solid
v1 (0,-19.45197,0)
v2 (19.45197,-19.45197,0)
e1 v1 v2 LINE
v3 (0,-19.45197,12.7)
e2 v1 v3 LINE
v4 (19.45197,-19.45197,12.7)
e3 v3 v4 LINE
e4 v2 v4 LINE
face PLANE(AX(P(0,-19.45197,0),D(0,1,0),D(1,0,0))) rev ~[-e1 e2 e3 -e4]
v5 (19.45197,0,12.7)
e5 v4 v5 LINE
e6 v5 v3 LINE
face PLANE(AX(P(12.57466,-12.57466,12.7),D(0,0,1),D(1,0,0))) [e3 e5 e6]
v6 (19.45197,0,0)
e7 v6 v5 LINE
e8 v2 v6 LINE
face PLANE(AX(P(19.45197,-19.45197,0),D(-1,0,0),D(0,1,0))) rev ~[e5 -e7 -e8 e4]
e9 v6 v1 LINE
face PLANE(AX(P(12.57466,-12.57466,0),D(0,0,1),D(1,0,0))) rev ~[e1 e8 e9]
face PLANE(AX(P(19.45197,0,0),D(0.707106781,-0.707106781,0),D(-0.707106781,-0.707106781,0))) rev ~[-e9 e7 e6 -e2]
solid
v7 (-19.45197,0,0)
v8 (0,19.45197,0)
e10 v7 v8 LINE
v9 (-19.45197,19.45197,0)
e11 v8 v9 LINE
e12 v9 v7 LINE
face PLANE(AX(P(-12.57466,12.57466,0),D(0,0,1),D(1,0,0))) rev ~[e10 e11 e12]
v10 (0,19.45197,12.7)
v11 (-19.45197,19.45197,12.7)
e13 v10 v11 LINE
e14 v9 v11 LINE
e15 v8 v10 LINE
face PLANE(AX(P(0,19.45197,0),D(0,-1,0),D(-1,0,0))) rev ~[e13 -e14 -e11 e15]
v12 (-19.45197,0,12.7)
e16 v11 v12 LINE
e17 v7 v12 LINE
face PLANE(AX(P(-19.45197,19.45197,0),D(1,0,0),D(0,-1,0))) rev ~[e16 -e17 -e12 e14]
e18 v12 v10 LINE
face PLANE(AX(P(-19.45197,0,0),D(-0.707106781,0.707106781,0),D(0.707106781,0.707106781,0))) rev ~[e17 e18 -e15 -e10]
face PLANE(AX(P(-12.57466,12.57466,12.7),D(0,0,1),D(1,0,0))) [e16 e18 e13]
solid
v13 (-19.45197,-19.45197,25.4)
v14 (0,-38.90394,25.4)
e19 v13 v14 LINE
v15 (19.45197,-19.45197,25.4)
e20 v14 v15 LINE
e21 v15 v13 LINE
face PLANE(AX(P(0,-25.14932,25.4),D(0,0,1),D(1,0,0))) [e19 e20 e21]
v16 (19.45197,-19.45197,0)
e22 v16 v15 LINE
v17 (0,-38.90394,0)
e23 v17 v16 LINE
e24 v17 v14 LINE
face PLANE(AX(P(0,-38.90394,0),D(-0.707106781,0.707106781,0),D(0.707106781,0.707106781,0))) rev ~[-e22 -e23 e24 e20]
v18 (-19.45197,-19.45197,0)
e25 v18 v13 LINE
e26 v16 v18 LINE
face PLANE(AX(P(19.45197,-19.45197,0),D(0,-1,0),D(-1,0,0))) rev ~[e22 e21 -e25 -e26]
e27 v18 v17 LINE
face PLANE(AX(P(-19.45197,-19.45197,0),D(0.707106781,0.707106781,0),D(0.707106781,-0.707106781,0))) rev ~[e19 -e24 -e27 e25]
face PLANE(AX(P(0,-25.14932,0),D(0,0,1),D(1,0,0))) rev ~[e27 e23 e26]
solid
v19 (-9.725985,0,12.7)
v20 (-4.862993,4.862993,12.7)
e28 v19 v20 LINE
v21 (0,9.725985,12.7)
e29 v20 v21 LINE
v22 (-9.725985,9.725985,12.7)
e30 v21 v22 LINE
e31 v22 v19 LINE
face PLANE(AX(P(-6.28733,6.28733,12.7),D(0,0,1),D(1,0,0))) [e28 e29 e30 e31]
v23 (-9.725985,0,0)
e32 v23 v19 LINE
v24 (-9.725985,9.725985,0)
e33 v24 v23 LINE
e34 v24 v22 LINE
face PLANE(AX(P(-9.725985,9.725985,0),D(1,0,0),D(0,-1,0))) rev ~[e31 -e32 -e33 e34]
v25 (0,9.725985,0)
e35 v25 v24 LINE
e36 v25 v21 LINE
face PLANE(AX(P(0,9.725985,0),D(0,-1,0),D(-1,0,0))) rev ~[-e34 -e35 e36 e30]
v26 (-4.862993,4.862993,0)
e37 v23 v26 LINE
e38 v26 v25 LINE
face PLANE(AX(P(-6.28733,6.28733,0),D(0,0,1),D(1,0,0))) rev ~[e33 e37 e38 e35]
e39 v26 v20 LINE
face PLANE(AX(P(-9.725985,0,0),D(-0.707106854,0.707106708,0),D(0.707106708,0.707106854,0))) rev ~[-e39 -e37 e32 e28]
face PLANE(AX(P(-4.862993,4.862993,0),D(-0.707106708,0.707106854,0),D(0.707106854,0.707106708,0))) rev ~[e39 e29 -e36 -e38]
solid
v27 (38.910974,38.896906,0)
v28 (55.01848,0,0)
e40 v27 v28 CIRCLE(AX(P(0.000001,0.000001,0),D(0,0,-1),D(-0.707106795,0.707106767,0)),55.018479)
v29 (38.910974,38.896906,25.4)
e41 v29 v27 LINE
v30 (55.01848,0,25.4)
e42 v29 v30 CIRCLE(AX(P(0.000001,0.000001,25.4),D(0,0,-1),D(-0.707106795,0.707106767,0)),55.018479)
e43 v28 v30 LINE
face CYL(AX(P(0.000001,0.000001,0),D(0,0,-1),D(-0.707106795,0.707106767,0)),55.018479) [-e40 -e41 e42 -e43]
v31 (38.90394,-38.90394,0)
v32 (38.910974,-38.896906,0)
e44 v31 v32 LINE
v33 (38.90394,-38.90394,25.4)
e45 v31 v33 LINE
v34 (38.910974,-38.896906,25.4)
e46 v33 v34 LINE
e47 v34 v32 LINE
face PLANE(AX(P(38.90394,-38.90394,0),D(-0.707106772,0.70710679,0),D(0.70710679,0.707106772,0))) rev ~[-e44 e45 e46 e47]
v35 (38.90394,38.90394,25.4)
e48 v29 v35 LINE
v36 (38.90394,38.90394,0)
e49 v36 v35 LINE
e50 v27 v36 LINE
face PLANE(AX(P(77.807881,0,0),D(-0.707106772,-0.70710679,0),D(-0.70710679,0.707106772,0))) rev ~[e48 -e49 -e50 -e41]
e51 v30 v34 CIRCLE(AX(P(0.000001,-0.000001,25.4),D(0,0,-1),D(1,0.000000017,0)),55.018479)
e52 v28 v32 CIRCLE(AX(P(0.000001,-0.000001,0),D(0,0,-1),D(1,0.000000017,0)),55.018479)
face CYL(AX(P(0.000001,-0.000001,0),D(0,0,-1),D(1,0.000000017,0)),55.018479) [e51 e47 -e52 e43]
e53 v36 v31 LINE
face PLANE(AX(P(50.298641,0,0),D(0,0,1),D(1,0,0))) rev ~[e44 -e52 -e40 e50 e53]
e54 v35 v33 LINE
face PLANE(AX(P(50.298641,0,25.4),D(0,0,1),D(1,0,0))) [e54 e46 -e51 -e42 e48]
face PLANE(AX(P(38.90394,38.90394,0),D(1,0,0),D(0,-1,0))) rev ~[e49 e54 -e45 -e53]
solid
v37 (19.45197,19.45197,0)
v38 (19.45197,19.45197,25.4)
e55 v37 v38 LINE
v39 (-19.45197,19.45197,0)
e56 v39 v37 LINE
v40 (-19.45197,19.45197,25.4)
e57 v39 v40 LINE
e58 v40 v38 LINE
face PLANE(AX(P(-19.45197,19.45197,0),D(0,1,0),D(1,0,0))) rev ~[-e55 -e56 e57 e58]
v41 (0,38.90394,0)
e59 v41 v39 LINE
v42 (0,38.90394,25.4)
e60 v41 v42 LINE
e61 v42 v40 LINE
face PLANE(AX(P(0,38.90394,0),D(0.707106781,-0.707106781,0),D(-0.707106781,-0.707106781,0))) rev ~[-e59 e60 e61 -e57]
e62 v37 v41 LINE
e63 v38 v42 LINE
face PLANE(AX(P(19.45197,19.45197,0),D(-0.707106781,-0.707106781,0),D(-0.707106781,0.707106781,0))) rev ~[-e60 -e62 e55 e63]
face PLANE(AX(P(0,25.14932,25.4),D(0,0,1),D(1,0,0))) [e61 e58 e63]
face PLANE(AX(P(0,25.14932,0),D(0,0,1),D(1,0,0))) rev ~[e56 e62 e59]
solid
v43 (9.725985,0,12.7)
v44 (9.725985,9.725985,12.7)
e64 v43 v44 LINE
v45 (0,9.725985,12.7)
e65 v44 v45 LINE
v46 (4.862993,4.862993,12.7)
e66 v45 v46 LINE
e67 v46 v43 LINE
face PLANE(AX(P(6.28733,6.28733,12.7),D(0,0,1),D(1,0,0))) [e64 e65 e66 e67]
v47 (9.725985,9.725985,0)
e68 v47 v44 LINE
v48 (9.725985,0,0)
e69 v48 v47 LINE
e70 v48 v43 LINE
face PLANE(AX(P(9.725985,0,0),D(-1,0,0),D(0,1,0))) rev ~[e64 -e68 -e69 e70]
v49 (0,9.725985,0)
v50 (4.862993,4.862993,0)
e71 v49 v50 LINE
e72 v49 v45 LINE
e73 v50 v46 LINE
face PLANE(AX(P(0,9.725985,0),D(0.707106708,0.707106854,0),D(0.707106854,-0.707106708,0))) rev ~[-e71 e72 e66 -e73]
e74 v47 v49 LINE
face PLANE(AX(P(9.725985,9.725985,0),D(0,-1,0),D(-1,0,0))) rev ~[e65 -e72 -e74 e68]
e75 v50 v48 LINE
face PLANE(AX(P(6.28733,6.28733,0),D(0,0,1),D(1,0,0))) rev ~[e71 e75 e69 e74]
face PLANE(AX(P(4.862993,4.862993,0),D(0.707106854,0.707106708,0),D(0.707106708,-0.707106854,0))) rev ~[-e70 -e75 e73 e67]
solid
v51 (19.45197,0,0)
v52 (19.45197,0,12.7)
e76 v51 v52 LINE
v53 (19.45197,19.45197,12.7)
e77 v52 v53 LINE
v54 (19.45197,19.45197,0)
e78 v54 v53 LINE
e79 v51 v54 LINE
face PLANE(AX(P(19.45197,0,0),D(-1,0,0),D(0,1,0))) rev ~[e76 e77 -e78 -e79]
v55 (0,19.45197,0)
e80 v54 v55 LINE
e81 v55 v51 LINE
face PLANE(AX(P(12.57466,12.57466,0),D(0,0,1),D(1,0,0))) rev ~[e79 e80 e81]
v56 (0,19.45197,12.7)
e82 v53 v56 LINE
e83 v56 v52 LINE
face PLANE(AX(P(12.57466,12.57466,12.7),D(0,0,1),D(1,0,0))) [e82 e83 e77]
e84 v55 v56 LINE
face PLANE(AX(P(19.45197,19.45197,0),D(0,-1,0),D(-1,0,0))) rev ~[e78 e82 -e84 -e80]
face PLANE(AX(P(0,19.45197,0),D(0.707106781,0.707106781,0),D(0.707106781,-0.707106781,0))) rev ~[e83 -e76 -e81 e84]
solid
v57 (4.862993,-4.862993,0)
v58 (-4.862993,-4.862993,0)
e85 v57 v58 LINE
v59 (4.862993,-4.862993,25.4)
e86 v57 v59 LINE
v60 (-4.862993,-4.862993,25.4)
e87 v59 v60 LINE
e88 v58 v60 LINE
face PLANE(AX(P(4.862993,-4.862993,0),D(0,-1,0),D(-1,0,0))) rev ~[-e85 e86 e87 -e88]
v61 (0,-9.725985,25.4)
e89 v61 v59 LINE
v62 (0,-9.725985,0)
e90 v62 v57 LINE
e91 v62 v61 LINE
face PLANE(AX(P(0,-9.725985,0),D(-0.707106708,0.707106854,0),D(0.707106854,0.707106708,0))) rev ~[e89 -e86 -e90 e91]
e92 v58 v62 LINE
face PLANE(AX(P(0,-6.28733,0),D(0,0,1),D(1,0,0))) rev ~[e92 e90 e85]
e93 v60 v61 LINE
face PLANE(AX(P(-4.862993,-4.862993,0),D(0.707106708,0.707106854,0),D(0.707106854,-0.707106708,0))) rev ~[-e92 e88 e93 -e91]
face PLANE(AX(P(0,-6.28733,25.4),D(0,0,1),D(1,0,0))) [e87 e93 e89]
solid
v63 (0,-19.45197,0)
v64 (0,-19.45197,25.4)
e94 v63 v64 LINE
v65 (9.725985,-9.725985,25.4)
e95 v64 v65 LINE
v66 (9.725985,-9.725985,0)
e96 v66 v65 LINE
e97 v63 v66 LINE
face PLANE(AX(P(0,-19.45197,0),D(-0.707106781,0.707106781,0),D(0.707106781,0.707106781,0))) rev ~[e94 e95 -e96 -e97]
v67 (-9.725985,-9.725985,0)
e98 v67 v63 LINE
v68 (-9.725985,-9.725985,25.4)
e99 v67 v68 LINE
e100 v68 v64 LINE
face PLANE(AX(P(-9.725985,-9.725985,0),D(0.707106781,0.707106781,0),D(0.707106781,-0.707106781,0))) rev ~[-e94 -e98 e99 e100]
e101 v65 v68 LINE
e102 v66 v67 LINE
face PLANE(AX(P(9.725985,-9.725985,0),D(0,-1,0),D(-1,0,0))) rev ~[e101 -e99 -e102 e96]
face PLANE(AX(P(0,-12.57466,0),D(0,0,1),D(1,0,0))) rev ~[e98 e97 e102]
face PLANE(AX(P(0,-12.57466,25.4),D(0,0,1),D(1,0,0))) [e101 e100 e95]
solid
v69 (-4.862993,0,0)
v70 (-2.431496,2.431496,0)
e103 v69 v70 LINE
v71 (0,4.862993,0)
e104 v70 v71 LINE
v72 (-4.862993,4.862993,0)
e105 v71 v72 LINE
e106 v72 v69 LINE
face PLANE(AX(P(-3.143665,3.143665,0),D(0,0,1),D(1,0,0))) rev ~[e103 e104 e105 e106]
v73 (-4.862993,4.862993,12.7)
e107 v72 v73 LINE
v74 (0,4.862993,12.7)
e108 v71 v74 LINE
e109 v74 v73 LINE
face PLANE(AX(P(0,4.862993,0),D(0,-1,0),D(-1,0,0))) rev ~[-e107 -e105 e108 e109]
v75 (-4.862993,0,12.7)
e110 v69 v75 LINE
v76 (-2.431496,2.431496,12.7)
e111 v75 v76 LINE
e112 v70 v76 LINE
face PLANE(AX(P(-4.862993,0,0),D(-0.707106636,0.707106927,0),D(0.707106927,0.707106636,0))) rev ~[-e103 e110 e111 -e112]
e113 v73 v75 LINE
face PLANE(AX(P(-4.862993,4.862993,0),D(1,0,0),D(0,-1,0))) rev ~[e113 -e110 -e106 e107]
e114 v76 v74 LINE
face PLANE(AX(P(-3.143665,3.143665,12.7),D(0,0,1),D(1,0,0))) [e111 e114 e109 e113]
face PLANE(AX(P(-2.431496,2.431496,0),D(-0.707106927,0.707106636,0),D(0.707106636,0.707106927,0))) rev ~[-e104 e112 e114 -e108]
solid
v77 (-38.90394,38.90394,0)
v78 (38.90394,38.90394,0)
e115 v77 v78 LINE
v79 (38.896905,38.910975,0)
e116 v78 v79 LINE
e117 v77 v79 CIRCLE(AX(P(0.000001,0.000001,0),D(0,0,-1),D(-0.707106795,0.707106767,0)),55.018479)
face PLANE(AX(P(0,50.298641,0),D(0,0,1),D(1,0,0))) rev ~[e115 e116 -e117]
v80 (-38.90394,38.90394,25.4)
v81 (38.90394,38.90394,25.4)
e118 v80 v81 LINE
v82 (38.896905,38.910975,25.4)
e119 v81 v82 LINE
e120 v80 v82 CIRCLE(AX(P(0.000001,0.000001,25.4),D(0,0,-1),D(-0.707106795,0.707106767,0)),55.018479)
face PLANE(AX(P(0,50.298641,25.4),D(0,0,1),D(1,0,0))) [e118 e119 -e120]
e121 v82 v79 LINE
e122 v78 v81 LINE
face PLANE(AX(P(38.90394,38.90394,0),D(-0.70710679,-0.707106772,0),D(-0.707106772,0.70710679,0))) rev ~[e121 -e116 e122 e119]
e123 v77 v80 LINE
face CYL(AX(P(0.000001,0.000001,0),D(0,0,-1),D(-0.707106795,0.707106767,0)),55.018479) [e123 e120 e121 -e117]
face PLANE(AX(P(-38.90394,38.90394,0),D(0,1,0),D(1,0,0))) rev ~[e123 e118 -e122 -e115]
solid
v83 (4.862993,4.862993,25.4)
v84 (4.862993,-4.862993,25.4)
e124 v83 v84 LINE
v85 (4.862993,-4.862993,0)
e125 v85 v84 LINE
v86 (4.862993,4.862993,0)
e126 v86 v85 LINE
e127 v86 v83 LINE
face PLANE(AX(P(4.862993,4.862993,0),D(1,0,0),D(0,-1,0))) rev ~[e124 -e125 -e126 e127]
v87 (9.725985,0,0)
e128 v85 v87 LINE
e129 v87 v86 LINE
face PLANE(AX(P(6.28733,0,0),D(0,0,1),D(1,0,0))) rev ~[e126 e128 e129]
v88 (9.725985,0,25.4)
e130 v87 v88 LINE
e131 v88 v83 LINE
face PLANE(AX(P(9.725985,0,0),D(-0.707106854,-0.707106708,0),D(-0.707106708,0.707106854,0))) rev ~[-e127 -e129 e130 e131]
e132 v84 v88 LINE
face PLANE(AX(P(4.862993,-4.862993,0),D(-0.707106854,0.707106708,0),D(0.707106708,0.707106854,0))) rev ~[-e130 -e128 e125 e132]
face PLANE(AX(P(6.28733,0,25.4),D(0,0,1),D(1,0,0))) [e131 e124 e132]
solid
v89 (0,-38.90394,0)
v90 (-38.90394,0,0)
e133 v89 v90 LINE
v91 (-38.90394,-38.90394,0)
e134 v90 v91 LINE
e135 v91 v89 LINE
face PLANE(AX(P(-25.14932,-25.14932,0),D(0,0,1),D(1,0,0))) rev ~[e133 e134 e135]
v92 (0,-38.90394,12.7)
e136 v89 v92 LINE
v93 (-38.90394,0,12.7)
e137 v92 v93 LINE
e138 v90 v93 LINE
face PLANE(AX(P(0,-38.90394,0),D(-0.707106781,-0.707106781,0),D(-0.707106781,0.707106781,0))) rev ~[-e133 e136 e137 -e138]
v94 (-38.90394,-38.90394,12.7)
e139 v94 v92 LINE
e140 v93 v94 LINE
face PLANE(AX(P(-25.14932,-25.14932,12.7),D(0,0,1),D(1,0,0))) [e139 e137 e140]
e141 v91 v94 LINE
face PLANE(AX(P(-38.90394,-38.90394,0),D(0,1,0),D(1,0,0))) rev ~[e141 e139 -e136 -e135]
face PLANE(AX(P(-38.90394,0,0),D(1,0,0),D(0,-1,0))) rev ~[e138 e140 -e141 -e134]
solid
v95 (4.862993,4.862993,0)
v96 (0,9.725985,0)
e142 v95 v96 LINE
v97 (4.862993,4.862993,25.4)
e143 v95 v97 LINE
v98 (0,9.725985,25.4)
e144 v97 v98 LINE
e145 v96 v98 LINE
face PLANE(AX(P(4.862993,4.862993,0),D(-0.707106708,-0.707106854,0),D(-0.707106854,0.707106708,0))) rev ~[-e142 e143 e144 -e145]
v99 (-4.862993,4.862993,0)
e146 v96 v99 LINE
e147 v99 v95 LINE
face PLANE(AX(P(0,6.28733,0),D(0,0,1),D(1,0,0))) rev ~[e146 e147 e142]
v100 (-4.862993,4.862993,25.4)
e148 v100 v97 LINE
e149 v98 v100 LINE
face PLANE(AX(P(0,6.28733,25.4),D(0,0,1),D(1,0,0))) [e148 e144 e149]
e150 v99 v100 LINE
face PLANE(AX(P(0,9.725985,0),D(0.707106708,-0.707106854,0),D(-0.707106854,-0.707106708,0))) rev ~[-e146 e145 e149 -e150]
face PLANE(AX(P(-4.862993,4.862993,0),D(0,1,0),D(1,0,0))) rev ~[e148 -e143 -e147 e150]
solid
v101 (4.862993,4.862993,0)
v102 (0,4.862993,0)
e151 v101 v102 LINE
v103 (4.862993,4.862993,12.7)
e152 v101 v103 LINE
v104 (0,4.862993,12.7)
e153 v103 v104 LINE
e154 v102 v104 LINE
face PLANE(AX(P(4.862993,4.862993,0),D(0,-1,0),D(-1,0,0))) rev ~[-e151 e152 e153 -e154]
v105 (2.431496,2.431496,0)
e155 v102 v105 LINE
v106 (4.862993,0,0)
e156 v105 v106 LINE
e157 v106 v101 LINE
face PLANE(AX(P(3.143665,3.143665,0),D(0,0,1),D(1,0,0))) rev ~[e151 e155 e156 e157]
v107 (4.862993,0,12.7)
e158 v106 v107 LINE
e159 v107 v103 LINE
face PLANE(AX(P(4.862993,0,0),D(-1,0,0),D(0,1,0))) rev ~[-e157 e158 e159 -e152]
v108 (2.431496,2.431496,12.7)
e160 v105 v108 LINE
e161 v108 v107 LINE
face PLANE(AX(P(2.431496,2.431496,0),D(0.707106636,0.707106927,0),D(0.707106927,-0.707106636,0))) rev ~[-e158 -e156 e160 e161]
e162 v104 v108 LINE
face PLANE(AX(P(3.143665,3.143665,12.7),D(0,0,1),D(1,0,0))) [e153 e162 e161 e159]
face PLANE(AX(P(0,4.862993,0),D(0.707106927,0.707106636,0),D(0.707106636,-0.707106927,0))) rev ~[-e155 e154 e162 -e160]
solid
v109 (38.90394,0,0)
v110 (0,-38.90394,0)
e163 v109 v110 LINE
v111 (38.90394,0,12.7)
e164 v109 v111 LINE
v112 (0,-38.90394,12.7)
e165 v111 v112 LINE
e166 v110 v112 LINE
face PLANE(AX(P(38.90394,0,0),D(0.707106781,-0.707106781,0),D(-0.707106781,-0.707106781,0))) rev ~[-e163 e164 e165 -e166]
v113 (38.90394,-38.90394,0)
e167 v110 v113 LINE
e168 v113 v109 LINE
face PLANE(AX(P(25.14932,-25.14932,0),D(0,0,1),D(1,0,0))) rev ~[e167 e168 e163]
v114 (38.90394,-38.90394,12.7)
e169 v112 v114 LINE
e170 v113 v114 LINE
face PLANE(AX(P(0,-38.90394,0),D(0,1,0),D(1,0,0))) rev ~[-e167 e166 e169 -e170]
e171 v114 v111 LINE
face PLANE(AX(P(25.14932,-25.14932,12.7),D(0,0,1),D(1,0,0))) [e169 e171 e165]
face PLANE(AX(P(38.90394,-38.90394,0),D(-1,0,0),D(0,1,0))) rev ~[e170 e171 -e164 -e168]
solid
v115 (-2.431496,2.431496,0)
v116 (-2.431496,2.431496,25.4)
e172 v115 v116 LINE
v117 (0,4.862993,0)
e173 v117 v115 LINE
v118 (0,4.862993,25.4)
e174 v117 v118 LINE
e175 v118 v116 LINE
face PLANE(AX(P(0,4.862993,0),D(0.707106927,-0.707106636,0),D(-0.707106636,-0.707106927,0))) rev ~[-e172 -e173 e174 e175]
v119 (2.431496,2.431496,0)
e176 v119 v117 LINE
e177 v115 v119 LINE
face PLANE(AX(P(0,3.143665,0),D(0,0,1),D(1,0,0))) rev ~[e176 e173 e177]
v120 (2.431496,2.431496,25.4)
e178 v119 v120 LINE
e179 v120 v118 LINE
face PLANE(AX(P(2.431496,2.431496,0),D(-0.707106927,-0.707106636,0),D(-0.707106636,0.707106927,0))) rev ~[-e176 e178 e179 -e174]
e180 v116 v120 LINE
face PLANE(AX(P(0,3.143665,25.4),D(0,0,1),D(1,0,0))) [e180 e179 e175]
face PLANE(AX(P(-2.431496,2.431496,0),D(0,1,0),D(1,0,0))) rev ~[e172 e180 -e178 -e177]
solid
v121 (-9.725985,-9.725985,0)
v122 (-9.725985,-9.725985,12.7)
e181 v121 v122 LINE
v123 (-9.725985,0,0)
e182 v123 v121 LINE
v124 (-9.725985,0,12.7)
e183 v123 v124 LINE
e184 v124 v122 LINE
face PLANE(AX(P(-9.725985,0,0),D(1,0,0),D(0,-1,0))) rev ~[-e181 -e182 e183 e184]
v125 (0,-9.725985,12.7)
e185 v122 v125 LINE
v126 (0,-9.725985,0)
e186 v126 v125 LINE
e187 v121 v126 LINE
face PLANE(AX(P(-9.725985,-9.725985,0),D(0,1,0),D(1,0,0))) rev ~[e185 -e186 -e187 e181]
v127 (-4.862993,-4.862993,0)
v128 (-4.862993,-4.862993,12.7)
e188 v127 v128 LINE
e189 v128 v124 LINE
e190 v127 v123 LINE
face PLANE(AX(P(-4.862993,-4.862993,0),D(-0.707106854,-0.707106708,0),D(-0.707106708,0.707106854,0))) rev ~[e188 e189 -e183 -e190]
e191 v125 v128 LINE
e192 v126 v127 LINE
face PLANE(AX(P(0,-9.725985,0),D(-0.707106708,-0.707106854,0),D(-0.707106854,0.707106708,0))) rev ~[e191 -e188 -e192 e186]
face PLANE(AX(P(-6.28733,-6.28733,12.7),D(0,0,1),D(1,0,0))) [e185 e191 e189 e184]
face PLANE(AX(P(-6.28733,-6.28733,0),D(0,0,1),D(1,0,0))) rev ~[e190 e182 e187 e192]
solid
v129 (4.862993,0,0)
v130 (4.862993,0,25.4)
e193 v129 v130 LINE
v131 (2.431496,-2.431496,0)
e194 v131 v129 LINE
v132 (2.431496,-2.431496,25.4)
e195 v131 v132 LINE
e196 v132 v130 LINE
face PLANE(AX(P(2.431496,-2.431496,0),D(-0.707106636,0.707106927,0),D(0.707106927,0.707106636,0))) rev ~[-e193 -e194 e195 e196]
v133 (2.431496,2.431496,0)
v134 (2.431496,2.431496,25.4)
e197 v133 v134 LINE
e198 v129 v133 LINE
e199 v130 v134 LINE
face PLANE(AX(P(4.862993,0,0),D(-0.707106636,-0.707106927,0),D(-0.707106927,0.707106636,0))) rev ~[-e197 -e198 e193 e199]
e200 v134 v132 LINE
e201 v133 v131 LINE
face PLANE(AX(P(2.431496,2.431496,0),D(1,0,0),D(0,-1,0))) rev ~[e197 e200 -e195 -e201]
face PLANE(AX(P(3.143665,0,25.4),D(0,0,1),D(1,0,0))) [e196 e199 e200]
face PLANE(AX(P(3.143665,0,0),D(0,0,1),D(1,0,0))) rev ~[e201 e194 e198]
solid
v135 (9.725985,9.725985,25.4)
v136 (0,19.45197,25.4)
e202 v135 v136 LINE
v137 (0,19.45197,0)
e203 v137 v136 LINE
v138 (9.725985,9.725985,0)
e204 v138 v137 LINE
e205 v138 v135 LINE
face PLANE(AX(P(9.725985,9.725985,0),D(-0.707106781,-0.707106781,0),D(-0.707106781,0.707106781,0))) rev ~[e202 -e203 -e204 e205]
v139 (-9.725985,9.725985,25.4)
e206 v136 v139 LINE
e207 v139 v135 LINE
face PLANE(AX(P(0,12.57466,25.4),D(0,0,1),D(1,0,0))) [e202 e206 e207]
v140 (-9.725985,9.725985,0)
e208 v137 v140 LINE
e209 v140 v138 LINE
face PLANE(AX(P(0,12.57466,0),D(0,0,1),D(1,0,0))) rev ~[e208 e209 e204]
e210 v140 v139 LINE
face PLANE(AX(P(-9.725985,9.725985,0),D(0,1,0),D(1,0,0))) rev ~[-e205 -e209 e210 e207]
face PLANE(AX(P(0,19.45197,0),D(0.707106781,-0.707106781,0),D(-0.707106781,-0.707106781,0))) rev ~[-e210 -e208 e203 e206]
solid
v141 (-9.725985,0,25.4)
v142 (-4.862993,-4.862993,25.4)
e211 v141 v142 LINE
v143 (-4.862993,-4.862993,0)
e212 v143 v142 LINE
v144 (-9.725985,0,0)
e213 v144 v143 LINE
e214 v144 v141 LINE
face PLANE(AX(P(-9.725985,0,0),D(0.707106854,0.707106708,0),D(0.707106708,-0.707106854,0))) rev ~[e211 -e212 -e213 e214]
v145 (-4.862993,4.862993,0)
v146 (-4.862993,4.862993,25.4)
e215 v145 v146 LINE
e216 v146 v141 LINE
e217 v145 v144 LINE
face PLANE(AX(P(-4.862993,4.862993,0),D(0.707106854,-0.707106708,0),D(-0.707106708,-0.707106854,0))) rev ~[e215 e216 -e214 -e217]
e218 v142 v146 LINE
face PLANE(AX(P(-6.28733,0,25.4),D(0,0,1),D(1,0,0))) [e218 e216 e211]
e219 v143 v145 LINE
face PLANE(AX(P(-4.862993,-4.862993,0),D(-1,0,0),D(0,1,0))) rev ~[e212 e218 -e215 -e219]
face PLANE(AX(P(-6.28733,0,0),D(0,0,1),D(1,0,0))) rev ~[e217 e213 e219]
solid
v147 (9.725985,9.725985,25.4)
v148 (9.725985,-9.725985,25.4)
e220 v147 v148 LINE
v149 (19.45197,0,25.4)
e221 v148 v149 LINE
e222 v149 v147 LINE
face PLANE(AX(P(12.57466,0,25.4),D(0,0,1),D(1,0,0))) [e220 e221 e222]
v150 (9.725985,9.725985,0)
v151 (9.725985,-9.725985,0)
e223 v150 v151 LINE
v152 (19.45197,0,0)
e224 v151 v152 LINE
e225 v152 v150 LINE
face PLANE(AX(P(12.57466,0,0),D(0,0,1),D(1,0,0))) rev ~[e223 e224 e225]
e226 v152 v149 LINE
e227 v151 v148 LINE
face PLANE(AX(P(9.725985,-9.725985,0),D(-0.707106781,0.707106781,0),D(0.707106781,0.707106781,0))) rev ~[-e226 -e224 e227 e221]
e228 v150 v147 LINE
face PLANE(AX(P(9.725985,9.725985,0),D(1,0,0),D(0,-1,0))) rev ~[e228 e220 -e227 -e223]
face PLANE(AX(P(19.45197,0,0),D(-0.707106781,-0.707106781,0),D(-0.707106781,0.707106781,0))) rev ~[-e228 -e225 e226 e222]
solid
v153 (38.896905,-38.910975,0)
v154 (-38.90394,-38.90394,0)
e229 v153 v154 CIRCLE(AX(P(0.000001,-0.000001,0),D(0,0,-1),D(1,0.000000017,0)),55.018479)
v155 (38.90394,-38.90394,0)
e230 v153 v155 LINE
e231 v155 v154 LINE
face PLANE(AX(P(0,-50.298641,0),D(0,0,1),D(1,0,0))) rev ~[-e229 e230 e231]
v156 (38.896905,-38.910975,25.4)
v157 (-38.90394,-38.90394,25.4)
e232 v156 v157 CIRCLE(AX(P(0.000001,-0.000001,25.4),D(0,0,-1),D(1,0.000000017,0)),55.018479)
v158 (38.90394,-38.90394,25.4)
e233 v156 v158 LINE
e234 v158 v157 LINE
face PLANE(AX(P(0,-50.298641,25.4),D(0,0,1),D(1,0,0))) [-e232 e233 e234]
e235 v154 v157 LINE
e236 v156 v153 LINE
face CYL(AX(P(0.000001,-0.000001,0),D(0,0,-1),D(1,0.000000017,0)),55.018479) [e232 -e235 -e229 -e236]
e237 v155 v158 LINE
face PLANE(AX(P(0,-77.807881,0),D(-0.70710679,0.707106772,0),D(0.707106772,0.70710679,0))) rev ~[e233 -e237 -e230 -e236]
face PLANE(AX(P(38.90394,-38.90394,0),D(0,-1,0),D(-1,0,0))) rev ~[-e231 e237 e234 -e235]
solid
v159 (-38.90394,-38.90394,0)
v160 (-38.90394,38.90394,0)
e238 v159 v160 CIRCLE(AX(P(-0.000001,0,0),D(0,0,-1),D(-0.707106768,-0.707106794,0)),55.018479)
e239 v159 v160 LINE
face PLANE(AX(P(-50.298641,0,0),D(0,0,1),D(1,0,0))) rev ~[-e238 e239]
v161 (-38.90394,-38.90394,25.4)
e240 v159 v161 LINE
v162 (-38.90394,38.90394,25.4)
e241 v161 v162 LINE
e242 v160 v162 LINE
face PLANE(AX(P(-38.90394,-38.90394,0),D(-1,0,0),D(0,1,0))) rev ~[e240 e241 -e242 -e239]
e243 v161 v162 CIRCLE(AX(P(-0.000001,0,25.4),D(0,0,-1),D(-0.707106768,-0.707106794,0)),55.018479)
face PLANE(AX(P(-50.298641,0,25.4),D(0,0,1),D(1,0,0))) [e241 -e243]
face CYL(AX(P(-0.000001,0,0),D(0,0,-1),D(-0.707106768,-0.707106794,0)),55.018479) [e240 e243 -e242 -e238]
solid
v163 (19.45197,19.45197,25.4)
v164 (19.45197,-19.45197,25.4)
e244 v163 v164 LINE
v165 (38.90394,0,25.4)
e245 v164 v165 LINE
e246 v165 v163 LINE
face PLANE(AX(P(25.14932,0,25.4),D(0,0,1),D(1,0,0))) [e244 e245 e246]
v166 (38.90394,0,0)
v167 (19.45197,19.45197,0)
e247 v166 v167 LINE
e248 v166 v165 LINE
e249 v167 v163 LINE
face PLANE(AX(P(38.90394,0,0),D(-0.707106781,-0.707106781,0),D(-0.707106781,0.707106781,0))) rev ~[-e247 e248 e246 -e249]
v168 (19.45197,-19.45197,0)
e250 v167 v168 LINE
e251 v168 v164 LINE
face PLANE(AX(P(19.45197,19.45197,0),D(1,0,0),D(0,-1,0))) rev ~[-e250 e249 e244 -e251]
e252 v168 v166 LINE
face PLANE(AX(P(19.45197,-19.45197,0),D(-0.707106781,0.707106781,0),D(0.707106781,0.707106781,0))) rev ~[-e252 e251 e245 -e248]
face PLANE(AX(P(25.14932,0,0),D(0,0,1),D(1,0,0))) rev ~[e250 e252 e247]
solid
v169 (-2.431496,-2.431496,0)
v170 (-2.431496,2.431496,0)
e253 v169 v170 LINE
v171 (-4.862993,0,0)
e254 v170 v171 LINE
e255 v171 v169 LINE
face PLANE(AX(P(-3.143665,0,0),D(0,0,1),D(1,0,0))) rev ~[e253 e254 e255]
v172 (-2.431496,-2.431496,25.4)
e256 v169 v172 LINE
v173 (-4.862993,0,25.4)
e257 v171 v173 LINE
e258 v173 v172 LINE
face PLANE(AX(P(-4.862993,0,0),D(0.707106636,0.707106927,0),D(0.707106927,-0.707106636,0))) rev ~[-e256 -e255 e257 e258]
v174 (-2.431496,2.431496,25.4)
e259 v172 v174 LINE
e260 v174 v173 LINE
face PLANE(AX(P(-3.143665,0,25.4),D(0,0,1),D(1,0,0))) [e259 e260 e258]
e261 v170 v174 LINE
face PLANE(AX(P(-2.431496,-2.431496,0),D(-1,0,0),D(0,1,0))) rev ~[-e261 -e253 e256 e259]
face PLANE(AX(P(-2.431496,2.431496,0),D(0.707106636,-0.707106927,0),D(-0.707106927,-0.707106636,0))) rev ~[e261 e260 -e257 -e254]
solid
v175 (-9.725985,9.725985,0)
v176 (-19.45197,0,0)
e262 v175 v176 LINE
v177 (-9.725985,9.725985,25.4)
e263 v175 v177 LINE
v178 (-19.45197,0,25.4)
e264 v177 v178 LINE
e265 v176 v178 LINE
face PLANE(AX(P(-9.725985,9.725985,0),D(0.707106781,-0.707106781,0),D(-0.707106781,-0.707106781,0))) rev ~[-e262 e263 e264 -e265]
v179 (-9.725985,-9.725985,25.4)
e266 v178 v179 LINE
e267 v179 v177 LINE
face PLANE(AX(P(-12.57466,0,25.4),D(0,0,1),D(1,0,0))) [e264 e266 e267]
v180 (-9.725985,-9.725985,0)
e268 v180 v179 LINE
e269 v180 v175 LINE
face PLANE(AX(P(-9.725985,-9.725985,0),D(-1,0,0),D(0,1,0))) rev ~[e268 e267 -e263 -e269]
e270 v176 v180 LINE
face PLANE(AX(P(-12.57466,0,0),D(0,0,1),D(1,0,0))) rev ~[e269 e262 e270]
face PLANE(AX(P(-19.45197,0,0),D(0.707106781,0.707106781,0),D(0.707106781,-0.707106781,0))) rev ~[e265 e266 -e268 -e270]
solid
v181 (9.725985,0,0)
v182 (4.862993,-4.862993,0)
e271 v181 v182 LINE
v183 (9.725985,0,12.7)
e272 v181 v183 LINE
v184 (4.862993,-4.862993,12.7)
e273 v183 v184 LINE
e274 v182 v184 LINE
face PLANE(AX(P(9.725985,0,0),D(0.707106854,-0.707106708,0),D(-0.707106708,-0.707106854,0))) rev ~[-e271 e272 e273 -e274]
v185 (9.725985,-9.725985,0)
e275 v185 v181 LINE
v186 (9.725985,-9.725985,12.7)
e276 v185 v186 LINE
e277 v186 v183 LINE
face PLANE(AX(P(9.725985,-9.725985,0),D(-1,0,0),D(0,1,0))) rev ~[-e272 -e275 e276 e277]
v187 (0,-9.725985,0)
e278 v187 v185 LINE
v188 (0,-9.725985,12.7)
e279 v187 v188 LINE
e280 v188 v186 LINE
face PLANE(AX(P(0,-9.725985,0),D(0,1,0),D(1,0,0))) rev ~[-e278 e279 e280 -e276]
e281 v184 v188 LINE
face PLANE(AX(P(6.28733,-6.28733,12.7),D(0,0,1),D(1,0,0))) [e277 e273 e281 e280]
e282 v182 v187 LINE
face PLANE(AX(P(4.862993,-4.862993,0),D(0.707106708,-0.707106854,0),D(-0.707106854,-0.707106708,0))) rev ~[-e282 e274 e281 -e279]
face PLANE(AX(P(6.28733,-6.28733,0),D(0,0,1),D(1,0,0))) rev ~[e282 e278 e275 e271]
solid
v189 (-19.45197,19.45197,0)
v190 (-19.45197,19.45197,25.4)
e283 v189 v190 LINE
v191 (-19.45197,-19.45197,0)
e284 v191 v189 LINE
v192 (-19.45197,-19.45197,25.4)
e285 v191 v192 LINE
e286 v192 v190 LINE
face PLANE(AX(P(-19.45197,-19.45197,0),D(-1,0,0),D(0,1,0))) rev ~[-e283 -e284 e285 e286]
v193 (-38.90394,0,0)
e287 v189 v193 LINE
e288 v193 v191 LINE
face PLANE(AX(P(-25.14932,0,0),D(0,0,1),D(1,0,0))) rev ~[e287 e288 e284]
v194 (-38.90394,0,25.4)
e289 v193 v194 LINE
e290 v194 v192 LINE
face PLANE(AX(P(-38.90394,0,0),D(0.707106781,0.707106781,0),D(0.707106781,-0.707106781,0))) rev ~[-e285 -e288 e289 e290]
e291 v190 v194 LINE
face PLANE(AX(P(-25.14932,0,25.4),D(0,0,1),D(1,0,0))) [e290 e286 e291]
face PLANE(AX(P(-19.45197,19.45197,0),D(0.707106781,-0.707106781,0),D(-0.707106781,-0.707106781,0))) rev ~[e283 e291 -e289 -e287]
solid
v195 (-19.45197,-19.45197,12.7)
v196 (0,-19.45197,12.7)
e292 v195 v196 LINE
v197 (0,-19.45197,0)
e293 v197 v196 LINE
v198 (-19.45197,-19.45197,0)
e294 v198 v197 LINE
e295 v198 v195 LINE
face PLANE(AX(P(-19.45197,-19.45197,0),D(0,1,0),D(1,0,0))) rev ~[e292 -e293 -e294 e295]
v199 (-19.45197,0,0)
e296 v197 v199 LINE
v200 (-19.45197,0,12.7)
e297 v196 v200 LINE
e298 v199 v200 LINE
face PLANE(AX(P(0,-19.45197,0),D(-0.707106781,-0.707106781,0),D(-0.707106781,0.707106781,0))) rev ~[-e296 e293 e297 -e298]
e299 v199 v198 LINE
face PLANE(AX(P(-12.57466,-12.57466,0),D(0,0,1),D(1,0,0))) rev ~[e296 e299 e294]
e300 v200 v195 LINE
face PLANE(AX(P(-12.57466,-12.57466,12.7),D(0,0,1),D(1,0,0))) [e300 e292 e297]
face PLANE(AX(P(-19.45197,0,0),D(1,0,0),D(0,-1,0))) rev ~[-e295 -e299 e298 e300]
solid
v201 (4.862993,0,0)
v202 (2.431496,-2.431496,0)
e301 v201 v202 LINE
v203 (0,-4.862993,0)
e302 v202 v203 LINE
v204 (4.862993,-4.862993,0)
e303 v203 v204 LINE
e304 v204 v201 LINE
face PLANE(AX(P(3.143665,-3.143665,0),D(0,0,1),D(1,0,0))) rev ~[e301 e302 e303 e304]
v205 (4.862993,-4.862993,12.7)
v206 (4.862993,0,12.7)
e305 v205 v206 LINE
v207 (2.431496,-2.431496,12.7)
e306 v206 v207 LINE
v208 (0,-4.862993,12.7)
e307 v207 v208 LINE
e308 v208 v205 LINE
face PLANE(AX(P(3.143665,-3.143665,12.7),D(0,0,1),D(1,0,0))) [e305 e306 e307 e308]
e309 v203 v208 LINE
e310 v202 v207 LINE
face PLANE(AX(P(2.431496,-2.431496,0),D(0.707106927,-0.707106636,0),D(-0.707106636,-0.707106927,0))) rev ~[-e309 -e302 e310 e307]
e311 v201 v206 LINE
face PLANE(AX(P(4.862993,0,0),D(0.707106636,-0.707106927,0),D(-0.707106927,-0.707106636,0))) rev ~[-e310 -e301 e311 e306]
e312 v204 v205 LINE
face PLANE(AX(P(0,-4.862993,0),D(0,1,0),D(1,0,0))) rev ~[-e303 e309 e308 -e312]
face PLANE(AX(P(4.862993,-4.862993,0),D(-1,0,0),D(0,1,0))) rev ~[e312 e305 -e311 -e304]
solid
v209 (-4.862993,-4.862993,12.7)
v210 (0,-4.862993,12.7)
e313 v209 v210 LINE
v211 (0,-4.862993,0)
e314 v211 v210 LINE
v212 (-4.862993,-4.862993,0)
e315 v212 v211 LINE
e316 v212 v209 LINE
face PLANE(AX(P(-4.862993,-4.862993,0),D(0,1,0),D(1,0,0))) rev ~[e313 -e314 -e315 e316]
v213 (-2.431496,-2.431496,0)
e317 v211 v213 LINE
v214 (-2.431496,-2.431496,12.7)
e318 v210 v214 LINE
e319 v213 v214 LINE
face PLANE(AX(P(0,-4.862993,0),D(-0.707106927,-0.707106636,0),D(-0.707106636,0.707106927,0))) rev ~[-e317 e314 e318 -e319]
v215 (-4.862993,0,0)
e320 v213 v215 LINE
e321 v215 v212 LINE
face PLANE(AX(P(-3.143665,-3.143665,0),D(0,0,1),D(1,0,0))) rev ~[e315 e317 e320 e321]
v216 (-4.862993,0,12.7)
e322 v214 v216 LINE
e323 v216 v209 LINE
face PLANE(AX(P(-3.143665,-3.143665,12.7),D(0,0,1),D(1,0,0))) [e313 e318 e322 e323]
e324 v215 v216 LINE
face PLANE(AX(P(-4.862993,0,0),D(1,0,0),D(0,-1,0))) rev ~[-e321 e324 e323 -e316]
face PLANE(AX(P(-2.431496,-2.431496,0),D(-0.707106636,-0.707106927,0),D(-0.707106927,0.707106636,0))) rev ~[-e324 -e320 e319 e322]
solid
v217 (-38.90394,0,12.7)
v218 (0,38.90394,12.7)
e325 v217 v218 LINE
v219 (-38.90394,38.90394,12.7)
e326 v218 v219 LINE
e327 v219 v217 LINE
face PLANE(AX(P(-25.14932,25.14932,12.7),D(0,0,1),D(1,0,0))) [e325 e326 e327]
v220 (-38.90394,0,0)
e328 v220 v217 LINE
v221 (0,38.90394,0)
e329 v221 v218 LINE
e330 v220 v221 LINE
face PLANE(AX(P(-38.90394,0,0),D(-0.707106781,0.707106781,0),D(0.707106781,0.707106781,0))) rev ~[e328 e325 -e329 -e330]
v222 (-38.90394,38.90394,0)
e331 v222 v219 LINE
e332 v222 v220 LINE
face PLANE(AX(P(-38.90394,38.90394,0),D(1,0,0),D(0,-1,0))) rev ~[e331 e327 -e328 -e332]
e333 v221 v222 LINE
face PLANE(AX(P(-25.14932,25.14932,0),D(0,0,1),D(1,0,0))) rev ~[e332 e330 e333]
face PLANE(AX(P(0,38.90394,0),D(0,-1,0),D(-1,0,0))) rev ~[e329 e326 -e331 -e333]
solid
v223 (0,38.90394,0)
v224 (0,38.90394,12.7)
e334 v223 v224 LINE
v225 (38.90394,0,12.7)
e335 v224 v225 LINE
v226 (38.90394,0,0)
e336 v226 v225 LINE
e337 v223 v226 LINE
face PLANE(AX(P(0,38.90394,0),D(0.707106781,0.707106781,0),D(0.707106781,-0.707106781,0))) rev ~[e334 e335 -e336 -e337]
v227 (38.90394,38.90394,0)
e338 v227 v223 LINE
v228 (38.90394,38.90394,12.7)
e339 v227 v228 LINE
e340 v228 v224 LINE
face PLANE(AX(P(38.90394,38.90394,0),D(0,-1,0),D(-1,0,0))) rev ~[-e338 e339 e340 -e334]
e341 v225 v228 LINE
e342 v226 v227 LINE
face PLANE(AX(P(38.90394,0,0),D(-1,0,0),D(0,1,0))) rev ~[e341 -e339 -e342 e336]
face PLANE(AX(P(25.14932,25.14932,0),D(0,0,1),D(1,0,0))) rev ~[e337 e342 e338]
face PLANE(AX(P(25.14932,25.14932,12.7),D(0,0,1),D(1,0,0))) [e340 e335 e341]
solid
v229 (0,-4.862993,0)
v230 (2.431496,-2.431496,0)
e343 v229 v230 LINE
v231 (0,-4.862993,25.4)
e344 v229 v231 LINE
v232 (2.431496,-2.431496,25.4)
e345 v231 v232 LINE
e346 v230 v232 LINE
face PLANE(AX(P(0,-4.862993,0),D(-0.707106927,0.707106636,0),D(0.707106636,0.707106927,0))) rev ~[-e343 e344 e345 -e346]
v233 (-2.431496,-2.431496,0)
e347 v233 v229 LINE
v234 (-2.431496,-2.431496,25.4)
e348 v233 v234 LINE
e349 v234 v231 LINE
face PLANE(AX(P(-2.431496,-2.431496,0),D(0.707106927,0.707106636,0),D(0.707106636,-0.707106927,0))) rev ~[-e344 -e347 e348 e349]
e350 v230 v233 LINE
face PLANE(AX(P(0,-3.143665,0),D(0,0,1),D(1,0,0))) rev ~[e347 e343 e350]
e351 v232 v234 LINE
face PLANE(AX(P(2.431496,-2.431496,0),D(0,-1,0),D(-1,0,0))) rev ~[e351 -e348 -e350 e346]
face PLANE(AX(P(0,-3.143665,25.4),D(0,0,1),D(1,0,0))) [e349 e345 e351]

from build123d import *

# Parameters (mm, degrees)
F1_DEPTH  = 25.4
F2_DEPTH  = 12.7
F3_DEPTH  = 25.4
F4_DEPTH  = 12.7
F5_DEPTH  = 25.4
F6_DEPTH  = 12.7
F7_DEPTH  = 25.4
F8_DEPTH  = 12.7
F9_DEPTH  = 25.4
F11_DEPTH = 77.9


with BuildPart() as f1:
    # F0 (on Top) → F1 (new body)
    with BuildSketch(Plane.XY):
        Polygon((38.90394, 38.90394), (0, 77.807881), (-38.90394, 38.90394), (0, 38.90394), align=None)
        Polygon((-38.90394, 0), (-38.90394, 38.90394), (-77.807881, 0), (-38.90394, -38.90394), align=None)
        Polygon((0, -38.90394), (-38.90394, -38.90394), (0, -77.807881), (38.90394, -38.90394), align=None)
        Polygon((77.807881, 0), (38.90394, 38.90394), (38.90394, 0), (38.90394, -38.90394), align=None)
    extrude(amount=F1_DEPTH)


with BuildPart() as f2:
    # F0 (on Top) → F2 (new body)
    with BuildSketch(Plane.XY):
        Polygon((0, 38.90394), (-38.90394, 38.90394), (-38.90394, 0), (-19.45197, 19.45197), align=None)
        Polygon((-19.45197, -19.45197), (-38.90394, 0), (-38.90394, -38.90394), (0, -38.90394), align=None)
        Polygon((38.90394, -38.90394), (38.90394, 0), (19.45197, -19.45197), (0, -38.90394), align=None)
        Polygon((38.90394, 0), (38.90394, 38.90394), (0, 38.90394), (19.45197, 19.45197), align=None)
    extrude(amount=F2_DEPTH)


with BuildPart() as f3:
    # F0 (on Top) → F3 (new body)
    with BuildSketch(Plane.XY):
        Polygon((19.45197, 19.45197), (0, 38.90394), (-19.45197, 19.45197), (0, 19.45197), align=None)
        Polygon((-19.45197, 19.45197), (-38.90394, 0), (-19.45197, -19.45197), (-19.45197, 0), align=None)
        Polygon((19.45197, -19.45197), (38.90394, 0), (19.45197, 19.45197), (19.45197, 0), align=None)
        Polygon((0, -19.45197), (-19.45197, -19.45197), (0, -38.90394), (19.45197, -19.45197), align=None)
    extrude(amount=F3_DEPTH)


with BuildPart() as f4:
    # F0 (on Top) → F4 (new body)
    with BuildSketch(Plane.XY):
        Polygon((0, 19.45197), (-19.45197, 19.45197), (-19.45197, 0), (-9.725985, 9.725985), align=None)
        Polygon((-19.45197, 0), (-19.45197, -19.45197), (0, -19.45197), (-9.725985, -9.725985), align=None)
        Polygon((0, -19.45197), (19.45197, -19.45197), (19.45197, 0), (9.725985, -9.725985), align=None)
        Polygon((19.45197, 0), (19.45197, 19.45197), (0, 19.45197), (9.725985, 9.725985), align=None)
    extrude(amount=F4_DEPTH)


with BuildPart() as f5:
    # F0 (on Top) → F5 (new body)
    with BuildSketch(Plane.XY):
        Polygon((9.725985, 9.725985), (0, 19.45197), (-9.725985, 9.725985), (0, 9.725985), align=None)
        Polygon((-9.725985, 9.725985), (-19.45197, 0), (-9.725985, -9.725985), (-9.725985, 0), align=None)
        Polygon((9.725985, -9.725985), (19.45197, 0), (9.725985, 9.725985), (9.725985, 0), align=None)
        Polygon((-9.725985, -9.725985), (0, -19.45197), (9.725985, -9.725985), (0, -9.725985), align=None)
    extrude(amount=F5_DEPTH)


with BuildPart() as f6:
    # F0 (on Top) → F6 (new body)
    with BuildSketch(Plane.XY):
        Polygon((0, 9.725985), (-9.725985, 9.725985), (-9.725985, 0), (-4.862993, 4.862993), align=None)
        Polygon((-9.725985, 0), (-9.725985, -9.725985), (0, -9.725985), (-4.862993, -4.862993), align=None)
        Polygon((0, -9.725985), (9.725985, -9.725985), (9.725985, 0), (4.862993, -4.862993), align=None)
        Polygon((9.725985, 0), (9.725985, 9.725985), (0, 9.725985), (4.862993, 4.862993), align=None)
    extrude(amount=F6_DEPTH)


with BuildPart() as f7:
    # F0 (on Top) → F7 (new body)
    with BuildSketch(Plane.XY):
        Polygon((4.862993, 4.862993), (0, 9.725985), (-4.862993, 4.862993), (0, 4.862993), align=None)
        Polygon((-4.862993, 4.862993), (-9.725985, 0), (-4.862993, -4.862993), (-4.862993, 0), align=None)
        Polygon((-4.862993, -4.862993), (0, -9.725985), (4.862993, -4.862993), (0, -4.862993), align=None)
        Polygon((4.862993, -4.862993), (9.725985, 0), (4.862993, 4.862993), (4.862993, 0), align=None)
    extrude(amount=F7_DEPTH)


with BuildPart() as f8:
    # F0 (on Top) → F8 (new body)
    with BuildSketch(Plane.XY):
        Polygon((0, 4.862993), (-4.862993, 4.862993), (-4.862993, 0), (-2.431496, 2.431496), align=None)
        Polygon((-4.862993, 0), (-4.862993, -4.862993), (0, -4.862993), (-2.431496, -2.431496), align=None)
        Polygon((0, -4.862993), (4.862993, -4.862993), (4.862993, 0), (2.431496, -2.431496), align=None)
        Polygon((4.862993, 0), (4.862993, 4.862993), (0, 4.862993), (2.431496, 2.431496), align=None)
    extrude(amount=F8_DEPTH)


with BuildPart() as f9:
    # F0 (on Top) → F9 (new body)
    with BuildSketch(Plane.XY):
        Polygon((2.431496, 2.431496), (0, 4.862993), (-2.431496, 2.431496), align=None)
        Polygon((-2.431496, 2.431496), (-4.862993, 0), (-2.431496, -2.431496), align=None)
        Polygon((-2.431496, -2.431496), (0, -4.862993), (2.431496, -2.431496), align=None)
        Polygon((2.431496, -2.431496), (4.862993, 0), (2.431496, 2.431496), align=None)
    extrude(amount=F9_DEPTH)


with BuildPart() as f11_tool:
    # F10 (on face) → F11 (new body)
    with BuildSketch(Plane(origin=(0, 0, 0), x_dir=(1, 0, 0), z_dir=(0, 0, -1))):
        with BuildLine():
            Line((-38.90394, -38.90394), (-38.90394, 38.90394))
            ThreePointArc((-38.90394, 38.90394), (-55.01848, 0), (-38.90394, -38.90394))
        make_face()
        with BuildLine():
            ThreePointArc((-38.90394, -38.90394), (21.054661, -50.830448), (55.01848, 0))
            ThreePointArc((55.01848, 0), (21.054661, 50.830448), (-38.90394, 38.90394))
            Line((-38.90394, 38.90394), (-38.90394, -38.90394))
        make_face()
    extrude(amount=-F11_DEPTH)


with BuildPart() as f1_1:
    add(f1.part)

    # F11: intersect by f11_tool
    add(f11_tool.part, mode=Mode.INTERSECT)


with BuildPart() as f2_1:
    add(f2.part)

    # F11: intersect by f11_tool
    add(f11_tool.part, mode=Mode.INTERSECT)


with BuildPart() as f3_1:
    add(f3.part)

    # F11: intersect by f11_tool
    add(f11_tool.part, mode=Mode.INTERSECT)


with BuildPart() as f4_1:
    add(f4.part)

    # F11: intersect by f11_tool
    add(f11_tool.part, mode=Mode.INTERSECT)


with BuildPart() as f5_1:
    add(f5.part)

    # F11: intersect by f11_tool
    add(f11_tool.part, mode=Mode.INTERSECT)


with BuildPart() as f6_1:
    add(f6.part)

    # F11: intersect by f11_tool
    add(f11_tool.part, mode=Mode.INTERSECT)


with BuildPart() as f7_1:
    add(f7.part)

    # F11: intersect by f11_tool
    add(f11_tool.part, mode=Mode.INTERSECT)


with BuildPart() as f8_1:
    add(f8.part)

    # F11: intersect by f11_tool
    add(f11_tool.part, mode=Mode.INTERSECT)


with BuildPart() as f9_1:
    add(f9.part)

    # F11: intersect by f11_tool
    add(f11_tool.part, mode=Mode.INTERSECT)


solid = Compound([f1_1.part, f2_1.part, f3_1.part, f4_1.part, f5_1.part, f6_1.part, f7_1.part, f8_1.part, f9_1.part])
